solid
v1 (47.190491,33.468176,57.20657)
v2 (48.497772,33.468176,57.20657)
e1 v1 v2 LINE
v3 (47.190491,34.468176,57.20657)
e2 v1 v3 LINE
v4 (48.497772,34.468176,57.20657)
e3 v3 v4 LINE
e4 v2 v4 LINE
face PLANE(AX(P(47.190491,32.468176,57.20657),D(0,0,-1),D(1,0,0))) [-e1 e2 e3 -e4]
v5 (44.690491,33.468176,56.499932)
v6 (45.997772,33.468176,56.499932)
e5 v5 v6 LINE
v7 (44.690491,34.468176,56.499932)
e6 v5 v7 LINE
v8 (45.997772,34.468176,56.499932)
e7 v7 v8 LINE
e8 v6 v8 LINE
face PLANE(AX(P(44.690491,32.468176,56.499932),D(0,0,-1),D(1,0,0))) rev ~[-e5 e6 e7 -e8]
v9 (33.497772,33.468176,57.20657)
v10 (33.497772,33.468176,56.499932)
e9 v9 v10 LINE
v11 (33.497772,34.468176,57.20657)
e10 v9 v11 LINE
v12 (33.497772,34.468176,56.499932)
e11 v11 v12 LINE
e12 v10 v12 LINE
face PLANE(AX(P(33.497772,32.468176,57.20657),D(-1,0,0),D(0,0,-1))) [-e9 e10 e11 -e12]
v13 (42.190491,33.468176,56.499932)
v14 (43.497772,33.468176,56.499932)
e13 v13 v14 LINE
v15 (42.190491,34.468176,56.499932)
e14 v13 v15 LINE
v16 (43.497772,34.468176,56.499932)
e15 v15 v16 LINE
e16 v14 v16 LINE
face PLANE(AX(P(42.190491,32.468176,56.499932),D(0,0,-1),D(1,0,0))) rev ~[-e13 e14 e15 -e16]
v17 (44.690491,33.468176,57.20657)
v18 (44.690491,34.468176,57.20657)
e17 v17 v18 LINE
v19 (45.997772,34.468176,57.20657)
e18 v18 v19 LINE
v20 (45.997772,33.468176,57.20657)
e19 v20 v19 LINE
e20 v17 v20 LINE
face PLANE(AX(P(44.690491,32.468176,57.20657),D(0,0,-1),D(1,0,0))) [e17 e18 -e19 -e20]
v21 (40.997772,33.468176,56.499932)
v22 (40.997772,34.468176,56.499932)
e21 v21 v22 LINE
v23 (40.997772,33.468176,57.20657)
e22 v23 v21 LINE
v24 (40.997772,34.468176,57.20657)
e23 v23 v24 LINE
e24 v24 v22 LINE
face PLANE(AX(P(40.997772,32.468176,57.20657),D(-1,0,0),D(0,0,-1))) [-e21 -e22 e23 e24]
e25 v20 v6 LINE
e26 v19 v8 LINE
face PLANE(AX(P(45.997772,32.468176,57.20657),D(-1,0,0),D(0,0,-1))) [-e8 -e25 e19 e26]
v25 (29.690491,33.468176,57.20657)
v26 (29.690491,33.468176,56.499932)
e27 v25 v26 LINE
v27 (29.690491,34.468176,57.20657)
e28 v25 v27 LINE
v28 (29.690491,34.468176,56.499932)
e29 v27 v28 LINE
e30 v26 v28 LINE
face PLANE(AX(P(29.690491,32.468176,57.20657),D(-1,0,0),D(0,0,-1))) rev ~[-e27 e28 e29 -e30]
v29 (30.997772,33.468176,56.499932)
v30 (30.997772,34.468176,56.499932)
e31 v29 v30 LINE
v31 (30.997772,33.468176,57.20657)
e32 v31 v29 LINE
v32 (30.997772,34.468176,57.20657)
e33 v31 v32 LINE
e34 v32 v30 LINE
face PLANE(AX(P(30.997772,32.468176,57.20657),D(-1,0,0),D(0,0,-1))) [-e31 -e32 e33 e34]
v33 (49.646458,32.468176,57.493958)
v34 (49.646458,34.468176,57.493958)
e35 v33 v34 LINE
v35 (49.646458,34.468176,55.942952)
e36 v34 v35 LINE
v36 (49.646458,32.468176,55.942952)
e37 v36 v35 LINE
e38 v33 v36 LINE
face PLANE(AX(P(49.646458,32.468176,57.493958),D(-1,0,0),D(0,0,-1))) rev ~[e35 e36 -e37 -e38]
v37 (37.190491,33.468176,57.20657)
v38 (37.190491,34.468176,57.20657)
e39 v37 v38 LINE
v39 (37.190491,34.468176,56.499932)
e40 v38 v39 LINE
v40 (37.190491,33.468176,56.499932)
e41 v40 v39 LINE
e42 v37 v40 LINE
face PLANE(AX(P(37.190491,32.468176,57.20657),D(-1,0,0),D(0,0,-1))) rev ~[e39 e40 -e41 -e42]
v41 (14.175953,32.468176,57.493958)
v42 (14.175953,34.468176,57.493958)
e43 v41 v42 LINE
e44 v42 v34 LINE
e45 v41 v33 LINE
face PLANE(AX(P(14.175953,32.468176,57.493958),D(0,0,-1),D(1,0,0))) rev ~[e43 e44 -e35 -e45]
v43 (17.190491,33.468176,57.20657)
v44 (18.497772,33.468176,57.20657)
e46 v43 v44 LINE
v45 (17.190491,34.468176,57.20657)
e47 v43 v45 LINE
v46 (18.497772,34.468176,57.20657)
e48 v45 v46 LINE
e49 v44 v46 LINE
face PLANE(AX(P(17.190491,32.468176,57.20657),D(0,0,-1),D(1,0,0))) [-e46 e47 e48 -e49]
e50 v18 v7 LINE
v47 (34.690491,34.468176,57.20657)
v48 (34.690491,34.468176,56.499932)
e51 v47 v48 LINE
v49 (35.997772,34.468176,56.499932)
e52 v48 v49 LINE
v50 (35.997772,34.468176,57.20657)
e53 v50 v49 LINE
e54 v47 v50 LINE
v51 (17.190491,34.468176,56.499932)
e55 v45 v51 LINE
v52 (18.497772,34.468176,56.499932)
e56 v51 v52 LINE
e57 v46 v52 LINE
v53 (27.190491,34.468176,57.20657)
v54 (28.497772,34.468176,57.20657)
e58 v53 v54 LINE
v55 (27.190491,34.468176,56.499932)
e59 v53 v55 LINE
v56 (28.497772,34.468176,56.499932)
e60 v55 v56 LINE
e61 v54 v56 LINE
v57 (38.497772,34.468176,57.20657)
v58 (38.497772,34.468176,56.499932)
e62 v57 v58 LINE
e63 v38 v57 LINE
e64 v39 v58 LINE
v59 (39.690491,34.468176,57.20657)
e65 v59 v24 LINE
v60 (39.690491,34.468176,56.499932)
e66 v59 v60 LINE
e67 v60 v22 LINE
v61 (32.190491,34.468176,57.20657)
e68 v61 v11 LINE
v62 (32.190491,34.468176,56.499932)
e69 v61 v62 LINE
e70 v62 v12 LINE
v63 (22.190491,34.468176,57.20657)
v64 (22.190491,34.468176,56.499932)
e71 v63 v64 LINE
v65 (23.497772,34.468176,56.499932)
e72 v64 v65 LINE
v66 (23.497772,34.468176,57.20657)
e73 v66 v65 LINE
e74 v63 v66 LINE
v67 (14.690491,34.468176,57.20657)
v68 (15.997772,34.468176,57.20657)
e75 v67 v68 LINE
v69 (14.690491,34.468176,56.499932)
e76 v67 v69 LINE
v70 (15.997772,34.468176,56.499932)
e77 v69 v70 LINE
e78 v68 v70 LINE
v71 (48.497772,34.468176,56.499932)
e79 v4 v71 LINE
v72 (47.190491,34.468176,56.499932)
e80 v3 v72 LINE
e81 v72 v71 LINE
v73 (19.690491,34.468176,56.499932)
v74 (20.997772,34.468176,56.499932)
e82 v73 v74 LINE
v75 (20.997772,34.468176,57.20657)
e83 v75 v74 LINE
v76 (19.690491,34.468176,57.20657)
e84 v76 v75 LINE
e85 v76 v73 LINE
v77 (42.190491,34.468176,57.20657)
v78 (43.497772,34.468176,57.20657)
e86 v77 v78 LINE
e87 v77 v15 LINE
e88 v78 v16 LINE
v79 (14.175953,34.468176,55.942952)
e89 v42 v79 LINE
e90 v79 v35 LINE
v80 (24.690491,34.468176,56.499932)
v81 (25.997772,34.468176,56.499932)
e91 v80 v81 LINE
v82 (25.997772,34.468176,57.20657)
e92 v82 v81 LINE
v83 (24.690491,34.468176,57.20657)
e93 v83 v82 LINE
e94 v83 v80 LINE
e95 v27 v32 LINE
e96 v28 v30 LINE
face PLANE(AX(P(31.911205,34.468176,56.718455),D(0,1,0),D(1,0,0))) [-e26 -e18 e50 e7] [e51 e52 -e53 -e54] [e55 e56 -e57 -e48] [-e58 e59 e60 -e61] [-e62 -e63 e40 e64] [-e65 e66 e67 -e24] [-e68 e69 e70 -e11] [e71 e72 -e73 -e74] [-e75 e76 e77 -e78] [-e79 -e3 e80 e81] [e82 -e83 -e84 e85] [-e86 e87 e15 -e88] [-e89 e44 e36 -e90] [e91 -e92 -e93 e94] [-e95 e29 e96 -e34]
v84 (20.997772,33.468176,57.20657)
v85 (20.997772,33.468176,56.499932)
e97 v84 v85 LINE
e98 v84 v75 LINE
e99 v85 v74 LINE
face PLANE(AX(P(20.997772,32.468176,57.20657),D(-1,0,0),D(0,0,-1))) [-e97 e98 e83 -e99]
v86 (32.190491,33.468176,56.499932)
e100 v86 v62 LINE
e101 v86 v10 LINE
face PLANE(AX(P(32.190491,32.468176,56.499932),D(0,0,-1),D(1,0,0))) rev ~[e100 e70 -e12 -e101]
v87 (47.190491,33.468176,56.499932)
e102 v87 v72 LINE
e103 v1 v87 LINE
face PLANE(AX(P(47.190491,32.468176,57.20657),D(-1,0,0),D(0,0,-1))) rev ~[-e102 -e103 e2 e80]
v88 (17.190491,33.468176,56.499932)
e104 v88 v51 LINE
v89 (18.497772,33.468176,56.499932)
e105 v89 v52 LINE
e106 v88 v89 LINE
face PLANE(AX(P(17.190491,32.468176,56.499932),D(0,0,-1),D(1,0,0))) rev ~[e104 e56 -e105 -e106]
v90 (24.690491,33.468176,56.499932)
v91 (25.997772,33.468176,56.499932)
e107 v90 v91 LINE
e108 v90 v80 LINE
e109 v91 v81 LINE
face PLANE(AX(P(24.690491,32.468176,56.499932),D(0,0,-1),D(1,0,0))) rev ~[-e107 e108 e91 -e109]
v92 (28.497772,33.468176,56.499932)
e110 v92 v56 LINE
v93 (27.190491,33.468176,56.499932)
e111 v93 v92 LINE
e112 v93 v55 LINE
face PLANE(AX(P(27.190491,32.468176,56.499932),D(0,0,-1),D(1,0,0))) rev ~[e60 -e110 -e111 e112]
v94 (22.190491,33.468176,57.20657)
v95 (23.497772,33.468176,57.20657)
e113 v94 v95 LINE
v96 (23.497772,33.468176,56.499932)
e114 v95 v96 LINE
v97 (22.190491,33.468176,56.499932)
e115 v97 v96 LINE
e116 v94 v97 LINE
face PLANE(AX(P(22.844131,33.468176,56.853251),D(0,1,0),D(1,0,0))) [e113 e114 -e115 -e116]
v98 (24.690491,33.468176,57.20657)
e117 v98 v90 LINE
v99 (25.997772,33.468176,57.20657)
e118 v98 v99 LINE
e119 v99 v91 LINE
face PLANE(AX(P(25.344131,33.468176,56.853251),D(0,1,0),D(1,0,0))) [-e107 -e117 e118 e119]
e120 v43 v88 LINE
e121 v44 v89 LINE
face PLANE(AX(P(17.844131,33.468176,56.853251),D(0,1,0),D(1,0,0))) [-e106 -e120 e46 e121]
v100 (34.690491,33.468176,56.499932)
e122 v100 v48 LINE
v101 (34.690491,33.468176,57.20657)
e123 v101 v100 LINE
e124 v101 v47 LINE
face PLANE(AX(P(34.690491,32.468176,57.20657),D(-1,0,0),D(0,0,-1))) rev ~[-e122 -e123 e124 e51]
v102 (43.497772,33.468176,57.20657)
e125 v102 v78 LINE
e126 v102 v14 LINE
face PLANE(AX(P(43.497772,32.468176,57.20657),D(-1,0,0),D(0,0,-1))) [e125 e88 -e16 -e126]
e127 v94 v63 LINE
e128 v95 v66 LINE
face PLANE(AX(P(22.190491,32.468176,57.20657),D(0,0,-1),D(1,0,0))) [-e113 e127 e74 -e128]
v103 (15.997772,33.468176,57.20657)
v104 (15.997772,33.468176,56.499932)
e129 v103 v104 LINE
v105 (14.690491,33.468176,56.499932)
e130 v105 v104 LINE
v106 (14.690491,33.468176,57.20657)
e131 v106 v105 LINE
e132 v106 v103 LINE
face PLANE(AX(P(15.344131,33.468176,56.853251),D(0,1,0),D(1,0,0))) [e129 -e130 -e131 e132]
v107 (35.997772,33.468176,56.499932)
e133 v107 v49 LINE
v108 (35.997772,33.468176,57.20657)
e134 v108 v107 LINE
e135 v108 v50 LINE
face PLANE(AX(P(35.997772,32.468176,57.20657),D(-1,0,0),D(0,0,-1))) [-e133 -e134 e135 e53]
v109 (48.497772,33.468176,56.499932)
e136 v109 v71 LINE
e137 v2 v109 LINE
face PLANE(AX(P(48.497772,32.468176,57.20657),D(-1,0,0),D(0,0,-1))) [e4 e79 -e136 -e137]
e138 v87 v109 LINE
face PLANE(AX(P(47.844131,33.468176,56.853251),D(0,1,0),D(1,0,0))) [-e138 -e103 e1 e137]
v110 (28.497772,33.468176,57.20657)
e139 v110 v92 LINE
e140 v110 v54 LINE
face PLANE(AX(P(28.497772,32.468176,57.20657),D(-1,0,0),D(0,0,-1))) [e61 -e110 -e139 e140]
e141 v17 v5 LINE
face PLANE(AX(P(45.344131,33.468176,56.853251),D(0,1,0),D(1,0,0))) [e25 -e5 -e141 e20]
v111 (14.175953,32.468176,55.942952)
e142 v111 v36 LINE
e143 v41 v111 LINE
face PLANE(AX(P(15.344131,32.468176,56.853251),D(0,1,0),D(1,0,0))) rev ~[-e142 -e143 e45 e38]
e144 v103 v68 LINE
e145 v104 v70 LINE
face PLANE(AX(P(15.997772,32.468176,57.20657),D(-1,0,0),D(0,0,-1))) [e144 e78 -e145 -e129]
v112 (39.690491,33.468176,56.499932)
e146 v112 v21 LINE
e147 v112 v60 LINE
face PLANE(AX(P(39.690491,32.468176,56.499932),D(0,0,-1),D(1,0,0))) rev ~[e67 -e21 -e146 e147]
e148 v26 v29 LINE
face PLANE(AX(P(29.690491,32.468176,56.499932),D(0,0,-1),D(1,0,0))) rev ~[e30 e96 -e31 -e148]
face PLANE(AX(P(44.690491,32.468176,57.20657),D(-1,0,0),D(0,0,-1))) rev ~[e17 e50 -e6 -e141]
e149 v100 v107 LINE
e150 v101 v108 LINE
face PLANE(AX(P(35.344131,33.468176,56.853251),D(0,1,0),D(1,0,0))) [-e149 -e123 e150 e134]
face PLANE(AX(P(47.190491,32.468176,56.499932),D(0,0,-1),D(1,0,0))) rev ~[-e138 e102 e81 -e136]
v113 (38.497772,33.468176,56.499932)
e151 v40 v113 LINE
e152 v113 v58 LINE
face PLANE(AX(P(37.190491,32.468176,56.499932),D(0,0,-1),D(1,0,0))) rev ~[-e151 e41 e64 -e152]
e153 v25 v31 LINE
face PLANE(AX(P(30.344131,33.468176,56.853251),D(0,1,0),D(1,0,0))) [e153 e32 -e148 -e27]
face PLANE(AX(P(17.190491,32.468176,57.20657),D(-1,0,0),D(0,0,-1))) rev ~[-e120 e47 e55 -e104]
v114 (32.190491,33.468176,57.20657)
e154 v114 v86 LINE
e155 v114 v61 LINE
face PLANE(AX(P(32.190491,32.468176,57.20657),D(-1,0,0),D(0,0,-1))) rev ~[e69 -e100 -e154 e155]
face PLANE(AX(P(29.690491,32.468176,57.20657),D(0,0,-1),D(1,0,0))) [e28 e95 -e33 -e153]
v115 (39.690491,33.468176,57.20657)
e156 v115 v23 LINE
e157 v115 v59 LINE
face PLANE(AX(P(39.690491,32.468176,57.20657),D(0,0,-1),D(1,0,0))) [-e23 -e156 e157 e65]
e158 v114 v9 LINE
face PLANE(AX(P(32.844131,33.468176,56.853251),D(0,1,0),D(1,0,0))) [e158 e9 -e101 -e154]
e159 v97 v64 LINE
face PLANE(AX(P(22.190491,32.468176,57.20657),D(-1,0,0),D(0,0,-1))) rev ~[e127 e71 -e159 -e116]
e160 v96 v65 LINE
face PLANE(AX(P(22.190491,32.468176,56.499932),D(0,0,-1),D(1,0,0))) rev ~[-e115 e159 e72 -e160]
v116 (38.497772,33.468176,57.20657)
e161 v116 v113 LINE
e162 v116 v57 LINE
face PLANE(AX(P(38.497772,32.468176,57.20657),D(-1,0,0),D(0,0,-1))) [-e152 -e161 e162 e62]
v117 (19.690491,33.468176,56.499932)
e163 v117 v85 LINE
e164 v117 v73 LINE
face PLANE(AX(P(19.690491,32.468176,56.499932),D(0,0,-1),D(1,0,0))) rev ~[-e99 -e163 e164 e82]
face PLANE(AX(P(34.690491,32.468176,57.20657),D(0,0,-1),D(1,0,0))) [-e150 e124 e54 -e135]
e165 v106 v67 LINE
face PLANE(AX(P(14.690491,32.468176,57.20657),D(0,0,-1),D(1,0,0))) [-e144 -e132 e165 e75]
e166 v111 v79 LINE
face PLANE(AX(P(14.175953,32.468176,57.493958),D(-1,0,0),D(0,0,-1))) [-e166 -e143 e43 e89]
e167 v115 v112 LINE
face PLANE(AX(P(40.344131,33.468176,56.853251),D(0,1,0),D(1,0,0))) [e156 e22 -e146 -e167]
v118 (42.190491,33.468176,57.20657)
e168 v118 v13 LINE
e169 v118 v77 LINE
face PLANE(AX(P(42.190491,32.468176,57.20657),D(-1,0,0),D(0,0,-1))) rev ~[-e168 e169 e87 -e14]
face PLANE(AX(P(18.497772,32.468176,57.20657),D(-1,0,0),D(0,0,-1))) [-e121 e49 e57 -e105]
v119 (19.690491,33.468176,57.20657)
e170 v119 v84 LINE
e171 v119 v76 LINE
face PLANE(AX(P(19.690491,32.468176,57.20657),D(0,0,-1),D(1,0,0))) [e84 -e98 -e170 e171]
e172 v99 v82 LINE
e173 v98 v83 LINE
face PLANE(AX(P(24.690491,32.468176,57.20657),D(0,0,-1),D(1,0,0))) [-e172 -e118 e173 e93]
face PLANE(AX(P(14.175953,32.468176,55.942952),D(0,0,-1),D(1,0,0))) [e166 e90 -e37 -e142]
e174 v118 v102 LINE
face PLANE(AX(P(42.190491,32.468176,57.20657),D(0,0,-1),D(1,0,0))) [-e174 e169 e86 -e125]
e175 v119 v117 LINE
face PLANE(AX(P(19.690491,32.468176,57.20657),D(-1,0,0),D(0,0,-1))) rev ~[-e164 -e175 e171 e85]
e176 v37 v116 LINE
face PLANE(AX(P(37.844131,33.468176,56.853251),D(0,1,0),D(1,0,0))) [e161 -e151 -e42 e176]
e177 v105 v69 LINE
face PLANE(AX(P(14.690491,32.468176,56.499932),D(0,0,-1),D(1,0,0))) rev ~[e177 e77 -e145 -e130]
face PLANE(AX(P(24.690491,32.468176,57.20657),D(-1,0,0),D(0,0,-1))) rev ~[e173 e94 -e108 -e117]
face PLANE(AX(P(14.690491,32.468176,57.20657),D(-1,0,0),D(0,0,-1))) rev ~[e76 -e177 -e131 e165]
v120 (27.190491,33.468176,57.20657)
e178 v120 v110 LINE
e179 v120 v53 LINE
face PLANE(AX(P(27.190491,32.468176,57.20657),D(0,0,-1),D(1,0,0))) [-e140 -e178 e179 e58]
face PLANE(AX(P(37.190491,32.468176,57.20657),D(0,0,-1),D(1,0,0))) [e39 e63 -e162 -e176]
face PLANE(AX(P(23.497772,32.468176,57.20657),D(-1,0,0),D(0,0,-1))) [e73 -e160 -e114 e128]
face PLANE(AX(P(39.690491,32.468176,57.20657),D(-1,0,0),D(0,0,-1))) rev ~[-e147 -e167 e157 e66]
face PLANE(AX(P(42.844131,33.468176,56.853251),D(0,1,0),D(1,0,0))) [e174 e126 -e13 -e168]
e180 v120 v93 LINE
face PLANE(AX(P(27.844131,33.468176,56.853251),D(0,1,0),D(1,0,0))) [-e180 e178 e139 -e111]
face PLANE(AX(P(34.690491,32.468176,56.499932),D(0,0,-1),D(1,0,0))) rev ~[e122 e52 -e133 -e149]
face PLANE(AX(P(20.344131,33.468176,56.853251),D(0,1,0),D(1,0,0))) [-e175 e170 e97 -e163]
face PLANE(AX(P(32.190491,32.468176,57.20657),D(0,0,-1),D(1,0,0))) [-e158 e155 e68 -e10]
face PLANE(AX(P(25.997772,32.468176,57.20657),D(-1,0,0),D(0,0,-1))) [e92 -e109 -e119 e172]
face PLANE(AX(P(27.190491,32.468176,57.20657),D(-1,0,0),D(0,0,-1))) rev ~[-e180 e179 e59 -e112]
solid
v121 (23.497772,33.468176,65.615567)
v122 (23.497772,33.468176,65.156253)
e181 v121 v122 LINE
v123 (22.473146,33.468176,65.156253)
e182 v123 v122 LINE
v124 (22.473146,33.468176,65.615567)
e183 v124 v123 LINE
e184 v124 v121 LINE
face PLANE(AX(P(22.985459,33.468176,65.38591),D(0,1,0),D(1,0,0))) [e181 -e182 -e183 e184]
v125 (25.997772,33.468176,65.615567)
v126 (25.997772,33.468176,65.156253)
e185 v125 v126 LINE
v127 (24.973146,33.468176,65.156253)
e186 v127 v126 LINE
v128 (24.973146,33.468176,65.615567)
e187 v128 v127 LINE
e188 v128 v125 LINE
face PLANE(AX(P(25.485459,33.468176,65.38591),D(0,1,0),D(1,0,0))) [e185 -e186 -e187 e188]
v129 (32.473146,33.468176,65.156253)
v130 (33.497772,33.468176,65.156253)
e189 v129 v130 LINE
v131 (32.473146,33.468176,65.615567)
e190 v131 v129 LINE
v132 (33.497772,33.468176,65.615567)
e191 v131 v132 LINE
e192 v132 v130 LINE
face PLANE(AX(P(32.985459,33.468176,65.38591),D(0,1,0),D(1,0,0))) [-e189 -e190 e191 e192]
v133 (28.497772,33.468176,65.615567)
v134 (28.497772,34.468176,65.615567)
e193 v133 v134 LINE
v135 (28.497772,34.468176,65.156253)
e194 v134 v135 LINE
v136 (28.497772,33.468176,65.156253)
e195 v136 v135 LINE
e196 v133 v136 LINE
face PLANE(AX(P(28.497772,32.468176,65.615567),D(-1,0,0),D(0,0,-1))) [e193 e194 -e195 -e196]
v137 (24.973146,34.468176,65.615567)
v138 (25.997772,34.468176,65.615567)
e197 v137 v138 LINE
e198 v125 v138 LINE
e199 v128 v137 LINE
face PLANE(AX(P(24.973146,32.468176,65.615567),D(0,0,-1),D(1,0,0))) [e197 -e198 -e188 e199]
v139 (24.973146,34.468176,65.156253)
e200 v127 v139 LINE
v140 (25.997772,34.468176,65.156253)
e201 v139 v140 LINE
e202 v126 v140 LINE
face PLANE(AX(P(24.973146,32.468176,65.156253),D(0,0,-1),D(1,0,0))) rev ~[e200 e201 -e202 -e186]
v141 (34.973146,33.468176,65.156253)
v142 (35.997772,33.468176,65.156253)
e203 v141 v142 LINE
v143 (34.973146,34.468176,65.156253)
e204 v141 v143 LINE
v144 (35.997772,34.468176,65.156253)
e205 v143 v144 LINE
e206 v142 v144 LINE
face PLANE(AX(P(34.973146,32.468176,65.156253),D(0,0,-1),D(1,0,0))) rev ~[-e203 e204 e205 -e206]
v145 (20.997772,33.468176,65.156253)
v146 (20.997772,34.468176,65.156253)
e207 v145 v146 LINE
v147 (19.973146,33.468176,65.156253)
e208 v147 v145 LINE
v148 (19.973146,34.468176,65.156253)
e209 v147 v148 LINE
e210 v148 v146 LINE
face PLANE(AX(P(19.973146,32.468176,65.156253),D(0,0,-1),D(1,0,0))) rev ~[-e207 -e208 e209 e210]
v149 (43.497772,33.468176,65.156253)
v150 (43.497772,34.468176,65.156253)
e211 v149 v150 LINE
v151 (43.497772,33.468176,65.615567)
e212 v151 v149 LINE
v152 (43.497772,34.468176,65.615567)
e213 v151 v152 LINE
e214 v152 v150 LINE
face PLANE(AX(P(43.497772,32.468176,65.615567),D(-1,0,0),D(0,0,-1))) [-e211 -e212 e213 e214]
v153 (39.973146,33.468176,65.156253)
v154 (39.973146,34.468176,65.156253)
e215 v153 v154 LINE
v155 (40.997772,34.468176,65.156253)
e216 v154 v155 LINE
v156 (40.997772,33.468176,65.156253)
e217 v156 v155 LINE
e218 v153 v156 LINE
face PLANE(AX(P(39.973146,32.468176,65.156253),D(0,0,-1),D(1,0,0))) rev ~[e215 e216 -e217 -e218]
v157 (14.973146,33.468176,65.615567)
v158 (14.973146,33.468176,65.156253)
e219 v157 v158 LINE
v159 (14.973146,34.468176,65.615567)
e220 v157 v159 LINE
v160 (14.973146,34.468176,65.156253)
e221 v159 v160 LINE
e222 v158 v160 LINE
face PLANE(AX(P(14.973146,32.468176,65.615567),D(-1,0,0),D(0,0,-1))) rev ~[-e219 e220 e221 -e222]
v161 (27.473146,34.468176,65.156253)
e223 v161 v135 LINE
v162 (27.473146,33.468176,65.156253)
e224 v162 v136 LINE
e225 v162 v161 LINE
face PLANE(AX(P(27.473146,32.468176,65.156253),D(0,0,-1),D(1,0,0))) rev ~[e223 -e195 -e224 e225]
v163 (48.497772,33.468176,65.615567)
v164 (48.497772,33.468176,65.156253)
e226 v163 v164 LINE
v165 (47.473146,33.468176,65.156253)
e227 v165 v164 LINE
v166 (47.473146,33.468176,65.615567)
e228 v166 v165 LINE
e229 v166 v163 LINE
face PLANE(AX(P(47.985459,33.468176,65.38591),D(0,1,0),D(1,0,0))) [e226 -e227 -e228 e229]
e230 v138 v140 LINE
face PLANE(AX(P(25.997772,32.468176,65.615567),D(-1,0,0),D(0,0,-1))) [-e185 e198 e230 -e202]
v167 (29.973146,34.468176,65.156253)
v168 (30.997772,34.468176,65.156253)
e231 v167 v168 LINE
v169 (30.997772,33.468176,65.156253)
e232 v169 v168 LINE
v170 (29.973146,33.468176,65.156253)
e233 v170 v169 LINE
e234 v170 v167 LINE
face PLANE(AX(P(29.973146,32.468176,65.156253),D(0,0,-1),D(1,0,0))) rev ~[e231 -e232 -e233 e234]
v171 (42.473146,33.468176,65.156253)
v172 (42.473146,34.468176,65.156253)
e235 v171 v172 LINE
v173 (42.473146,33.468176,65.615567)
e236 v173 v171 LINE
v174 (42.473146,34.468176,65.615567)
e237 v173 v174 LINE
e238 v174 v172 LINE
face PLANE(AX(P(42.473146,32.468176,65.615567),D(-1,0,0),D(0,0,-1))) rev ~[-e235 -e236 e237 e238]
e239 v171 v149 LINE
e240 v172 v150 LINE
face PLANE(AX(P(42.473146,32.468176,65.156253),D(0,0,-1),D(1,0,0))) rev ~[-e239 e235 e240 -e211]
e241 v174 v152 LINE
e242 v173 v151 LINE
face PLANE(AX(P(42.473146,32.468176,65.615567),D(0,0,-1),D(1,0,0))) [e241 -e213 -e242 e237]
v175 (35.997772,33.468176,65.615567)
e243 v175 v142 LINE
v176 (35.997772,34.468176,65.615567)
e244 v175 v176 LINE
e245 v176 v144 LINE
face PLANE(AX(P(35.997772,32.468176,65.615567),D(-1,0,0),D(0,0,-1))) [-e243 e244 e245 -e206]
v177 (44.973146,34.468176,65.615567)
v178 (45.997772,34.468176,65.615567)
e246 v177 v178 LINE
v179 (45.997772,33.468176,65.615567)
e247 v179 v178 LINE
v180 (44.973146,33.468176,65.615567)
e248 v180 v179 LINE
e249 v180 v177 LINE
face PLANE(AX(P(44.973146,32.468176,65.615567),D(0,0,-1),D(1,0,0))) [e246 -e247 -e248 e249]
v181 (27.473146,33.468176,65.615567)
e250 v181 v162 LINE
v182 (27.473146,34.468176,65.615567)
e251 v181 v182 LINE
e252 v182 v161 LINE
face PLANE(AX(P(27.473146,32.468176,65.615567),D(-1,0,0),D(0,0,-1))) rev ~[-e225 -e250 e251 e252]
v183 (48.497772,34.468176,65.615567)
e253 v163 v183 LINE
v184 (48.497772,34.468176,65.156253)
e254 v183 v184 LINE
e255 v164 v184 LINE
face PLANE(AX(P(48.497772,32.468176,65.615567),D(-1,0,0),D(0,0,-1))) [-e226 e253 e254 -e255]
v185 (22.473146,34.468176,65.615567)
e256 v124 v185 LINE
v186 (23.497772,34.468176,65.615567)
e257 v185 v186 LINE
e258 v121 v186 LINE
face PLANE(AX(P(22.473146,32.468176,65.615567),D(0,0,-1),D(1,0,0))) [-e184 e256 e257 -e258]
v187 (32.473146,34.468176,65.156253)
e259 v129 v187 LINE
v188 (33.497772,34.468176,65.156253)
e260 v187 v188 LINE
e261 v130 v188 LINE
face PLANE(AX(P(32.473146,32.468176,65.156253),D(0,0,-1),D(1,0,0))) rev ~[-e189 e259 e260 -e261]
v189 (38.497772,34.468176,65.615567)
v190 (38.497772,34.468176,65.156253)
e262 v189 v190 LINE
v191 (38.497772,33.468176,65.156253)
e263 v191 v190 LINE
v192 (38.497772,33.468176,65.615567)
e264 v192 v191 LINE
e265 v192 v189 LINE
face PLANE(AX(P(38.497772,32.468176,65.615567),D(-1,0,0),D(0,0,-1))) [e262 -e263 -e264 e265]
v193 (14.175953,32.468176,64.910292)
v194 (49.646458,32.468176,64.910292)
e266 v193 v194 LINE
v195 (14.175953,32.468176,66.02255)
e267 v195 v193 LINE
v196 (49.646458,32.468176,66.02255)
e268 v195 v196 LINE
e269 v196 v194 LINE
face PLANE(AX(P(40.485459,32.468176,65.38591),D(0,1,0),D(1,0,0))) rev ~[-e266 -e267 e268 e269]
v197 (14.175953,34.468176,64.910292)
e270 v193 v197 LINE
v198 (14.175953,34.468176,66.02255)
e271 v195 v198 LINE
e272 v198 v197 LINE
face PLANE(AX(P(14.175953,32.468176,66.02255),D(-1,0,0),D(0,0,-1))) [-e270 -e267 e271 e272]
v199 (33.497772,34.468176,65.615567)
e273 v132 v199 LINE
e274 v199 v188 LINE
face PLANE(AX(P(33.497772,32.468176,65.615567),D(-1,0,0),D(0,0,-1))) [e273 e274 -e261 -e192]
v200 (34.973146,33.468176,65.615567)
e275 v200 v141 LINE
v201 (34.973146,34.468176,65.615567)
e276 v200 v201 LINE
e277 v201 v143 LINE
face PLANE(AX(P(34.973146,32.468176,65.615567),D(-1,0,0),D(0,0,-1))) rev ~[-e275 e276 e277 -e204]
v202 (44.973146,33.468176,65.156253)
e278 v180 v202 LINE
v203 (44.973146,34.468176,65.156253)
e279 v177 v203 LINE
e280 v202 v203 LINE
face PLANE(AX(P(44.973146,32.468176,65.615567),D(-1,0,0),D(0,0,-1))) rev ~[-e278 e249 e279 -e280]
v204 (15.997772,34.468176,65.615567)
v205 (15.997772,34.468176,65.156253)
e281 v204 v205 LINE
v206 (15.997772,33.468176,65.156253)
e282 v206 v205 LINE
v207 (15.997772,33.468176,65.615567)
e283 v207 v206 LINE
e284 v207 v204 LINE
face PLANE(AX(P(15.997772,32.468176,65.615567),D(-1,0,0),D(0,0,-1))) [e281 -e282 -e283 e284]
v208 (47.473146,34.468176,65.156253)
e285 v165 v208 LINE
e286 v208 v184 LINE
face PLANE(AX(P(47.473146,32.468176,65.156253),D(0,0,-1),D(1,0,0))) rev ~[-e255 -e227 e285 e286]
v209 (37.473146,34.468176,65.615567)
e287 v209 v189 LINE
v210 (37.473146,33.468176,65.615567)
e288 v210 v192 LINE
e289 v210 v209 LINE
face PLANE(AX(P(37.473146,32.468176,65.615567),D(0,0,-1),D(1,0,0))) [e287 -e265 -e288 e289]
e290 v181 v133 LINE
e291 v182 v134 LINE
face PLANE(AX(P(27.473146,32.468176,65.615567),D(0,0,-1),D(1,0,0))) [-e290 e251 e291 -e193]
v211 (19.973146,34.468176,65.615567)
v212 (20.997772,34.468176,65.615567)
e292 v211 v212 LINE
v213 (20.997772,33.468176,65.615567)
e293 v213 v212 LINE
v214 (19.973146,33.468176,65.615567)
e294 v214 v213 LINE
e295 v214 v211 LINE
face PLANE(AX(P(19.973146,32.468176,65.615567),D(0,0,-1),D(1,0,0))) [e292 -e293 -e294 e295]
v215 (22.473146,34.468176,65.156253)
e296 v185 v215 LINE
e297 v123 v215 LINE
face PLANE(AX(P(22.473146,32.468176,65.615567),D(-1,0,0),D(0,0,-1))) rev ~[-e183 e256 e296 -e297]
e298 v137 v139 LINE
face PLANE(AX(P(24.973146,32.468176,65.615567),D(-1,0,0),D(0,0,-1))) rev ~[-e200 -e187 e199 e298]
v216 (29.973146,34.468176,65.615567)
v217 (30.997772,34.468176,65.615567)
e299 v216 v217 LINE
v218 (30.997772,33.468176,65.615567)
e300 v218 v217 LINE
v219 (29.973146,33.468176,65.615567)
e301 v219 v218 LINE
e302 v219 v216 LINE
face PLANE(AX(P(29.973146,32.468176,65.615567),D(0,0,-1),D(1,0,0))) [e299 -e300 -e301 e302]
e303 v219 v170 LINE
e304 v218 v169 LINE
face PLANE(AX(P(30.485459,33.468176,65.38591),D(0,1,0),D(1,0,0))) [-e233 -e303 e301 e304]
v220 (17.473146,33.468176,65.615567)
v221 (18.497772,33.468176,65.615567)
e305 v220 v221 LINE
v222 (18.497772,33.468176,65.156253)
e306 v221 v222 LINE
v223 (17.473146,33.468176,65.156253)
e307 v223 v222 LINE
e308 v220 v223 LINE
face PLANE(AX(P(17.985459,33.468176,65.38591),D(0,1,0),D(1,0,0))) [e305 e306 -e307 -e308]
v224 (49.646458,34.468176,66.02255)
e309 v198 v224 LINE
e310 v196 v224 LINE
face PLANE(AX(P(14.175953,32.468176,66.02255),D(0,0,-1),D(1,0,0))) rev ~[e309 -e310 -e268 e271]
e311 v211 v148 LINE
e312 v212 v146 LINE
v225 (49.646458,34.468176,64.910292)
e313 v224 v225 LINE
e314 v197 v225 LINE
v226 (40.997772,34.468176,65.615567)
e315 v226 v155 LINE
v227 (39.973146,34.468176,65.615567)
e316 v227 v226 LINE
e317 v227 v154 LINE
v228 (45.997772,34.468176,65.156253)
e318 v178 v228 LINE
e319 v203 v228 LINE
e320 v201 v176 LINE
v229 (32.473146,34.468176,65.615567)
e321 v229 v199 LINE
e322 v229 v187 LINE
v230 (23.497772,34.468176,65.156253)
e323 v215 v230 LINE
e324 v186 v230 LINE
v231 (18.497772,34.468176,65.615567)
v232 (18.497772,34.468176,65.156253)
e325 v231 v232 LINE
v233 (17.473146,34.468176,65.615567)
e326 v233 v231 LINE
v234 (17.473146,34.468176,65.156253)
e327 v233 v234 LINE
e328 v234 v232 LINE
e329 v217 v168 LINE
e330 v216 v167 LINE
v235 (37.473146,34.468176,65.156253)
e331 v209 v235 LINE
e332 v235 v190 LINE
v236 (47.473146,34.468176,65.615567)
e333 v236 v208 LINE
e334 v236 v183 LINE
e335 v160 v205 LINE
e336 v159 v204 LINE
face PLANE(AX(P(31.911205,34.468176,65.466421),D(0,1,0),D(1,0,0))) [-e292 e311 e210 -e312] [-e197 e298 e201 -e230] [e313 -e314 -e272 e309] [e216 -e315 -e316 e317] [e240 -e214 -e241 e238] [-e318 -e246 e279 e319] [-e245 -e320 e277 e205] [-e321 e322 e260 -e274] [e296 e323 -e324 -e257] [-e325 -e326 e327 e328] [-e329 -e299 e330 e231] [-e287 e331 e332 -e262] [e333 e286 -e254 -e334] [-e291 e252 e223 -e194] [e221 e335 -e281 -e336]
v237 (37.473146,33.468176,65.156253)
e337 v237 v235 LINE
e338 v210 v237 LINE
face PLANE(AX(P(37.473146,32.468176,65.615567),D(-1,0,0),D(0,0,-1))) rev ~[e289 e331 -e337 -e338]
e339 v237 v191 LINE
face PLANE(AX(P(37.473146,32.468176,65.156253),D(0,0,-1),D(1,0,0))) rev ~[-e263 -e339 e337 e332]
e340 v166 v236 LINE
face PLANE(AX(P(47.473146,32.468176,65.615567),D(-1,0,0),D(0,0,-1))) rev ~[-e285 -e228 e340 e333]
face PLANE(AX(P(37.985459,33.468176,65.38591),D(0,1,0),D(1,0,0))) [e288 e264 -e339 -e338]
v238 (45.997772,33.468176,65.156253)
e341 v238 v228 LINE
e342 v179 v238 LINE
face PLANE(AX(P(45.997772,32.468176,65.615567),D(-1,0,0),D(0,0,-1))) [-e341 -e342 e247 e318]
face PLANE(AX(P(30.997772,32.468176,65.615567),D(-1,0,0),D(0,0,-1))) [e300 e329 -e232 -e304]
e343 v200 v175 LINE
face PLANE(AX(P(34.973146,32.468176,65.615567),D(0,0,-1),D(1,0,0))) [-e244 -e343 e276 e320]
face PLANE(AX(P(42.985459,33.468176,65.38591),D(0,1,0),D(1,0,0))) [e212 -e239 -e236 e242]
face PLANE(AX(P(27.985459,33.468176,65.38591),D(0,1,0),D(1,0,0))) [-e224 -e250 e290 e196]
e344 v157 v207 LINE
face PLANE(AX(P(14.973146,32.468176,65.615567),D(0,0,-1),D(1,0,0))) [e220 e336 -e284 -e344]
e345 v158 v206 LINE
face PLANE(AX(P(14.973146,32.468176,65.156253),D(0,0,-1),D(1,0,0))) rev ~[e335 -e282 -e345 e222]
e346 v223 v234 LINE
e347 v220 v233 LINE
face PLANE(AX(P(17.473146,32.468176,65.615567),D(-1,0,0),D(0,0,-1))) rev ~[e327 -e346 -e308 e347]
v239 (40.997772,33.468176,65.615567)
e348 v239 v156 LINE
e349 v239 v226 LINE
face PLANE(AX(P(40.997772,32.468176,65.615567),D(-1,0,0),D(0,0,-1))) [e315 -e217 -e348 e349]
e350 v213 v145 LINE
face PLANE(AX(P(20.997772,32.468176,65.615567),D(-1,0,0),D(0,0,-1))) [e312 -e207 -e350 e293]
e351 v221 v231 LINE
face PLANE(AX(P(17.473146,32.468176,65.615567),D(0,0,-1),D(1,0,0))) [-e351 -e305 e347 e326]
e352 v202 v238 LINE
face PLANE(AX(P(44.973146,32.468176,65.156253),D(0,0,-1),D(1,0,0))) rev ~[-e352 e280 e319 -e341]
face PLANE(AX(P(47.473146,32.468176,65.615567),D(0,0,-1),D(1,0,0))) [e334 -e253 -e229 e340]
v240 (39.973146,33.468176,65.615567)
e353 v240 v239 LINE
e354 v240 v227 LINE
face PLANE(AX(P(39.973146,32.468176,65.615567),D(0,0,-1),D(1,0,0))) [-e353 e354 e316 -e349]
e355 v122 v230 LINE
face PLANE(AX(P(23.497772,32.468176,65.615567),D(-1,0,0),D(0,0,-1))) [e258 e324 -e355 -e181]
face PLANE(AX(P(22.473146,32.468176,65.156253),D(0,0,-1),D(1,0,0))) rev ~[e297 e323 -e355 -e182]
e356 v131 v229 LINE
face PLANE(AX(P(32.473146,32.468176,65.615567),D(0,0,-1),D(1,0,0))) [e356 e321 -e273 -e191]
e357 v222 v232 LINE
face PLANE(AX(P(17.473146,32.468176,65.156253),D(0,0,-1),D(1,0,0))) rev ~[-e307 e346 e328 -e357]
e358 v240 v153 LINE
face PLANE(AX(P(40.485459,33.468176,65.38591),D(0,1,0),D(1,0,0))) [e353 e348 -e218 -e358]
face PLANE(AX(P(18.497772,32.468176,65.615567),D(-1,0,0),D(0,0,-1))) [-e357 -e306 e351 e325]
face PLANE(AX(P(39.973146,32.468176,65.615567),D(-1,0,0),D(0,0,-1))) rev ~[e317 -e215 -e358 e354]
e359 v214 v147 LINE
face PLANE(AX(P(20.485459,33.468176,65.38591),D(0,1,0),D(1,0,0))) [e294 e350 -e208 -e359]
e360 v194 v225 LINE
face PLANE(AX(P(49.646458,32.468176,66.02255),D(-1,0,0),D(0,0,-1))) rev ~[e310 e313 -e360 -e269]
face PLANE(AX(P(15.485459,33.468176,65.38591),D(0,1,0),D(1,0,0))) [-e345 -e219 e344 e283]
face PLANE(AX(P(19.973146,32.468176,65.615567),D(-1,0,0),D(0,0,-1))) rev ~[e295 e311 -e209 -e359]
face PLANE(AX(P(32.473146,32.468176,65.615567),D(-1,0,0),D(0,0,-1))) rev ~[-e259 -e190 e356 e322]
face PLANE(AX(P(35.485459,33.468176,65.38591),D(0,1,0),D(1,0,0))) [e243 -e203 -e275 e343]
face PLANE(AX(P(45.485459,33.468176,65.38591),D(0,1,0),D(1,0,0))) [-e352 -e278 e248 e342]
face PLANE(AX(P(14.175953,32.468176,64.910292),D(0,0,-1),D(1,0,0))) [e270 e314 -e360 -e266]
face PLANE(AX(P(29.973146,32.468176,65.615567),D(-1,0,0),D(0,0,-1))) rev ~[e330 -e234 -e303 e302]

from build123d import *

# Parameters (mm, degrees)
CROQUIS1_W                = 35.470504615
CROQUIS1_H                = 1.551006647
CROQUIS1_W_2              = 1.307281122
CROQUIS1_H_2              = 0.706638445
SALIENTE_EXTRUIR1_DEPTH   = 2
CROQUIS1_H_3              = 1.112257887
CROQUIS1_W_3              = 1.024625744
CROQUIS1_H_4              = 0.459314989
SALIENTE_EXTRUIR1_2_DEPTH = 2
CROQUIS1_3_W              = 1.307281122
CROQUIS1_3_H              = 0.706638445
CROQUIS1_3_W_2            = 1.024625744
CROQUIS1_3_H_2            = 0.459314989
SALIENTE_EXTRUIR2_DEPTH   = 1


with BuildPart() as part:
    # Croquis1 → Saliente-Extruir1 (new body)
    with BuildSketch(Plane(origin=(0, 32.468175746, 0), x_dir=(1, 0, 0), z_dir=(0, 1, 0))):
        with Locations((31.911205321, -56.71845489)):
            Rectangle(CROQUIS1_W, CROQUIS1_H)
        with Locations((17.844131363, -56.853250782)):
            Rectangle(CROQUIS1_W_2, CROQUIS1_H_2, mode=Mode.SUBTRACT)
        with Locations((15.344131363, -56.853250782)):
            Rectangle(CROQUIS1_W_2, CROQUIS1_H_2, mode=Mode.SUBTRACT)
        with Locations((20.344131363, -56.853250782)):
            Rectangle(CROQUIS1_W_2, CROQUIS1_H_2, mode=Mode.SUBTRACT)
        with Locations((22.844131363, -56.853250782)):
            Rectangle(CROQUIS1_W_2, CROQUIS1_H_2, mode=Mode.SUBTRACT)
        with Locations((25.344131363, -56.853250782)):
            Rectangle(CROQUIS1_W_2, CROQUIS1_H_2, mode=Mode.SUBTRACT)
        with Locations((27.844131363, -56.853250782)):
            Rectangle(CROQUIS1_W_2, CROQUIS1_H_2, mode=Mode.SUBTRACT)
        with Locations((30.344131363, -56.853250782)):
            Rectangle(CROQUIS1_W_2, CROQUIS1_H_2, mode=Mode.SUBTRACT)
        with Locations((32.844131363, -56.853250782)):
            Rectangle(CROQUIS1_W_2, CROQUIS1_H_2, mode=Mode.SUBTRACT)
        with Locations((35.344131363, -56.853250782)):
            Rectangle(CROQUIS1_W_2, CROQUIS1_H_2, mode=Mode.SUBTRACT)
        with Locations((37.844131363, -56.853250782)):
            Rectangle(CROQUIS1_W_2, CROQUIS1_H_2, mode=Mode.SUBTRACT)
        with Locations((40.344131363, -56.853250782)):
            Rectangle(CROQUIS1_W_2, CROQUIS1_H_2, mode=Mode.SUBTRACT)
        with Locations((42.844131363, -56.853250782)):
            Rectangle(CROQUIS1_W_2, CROQUIS1_H_2, mode=Mode.SUBTRACT)
        with Locations((45.344131363, -56.853250782)):
            Rectangle(CROQUIS1_W_2, CROQUIS1_H_2, mode=Mode.SUBTRACT)
        with Locations((47.844131363, -56.853250782)):
            Rectangle(CROQUIS1_W_2, CROQUIS1_H_2, mode=Mode.SUBTRACT)
    extrude(amount=SALIENTE_EXTRUIR1_DEPTH)



with BuildPart() as body_2:
    # Croquis1 → Saliente-Extruir1 2 (new body)
    with BuildSketch(Plane(origin=(0, 32.468175746, 0), x_dir=(1, 0, 0), z_dir=(0, 1, 0))):
        with Locations((31.911205321, -65.466420603)):
            Rectangle(CROQUIS1_W, CROQUIS1_H_3)
        with Locations((15.485459052, -65.385910001)):
            Rectangle(CROQUIS1_W_3, CROQUIS1_H_4, mode=Mode.SUBTRACT)
        with Locations((17.985459052, -65.385910001)):
            Rectangle(CROQUIS1_W_3, CROQUIS1_H_4, mode=Mode.SUBTRACT)
        with Locations((20.485459052, -65.385910001)):
            Rectangle(CROQUIS1_W_3, CROQUIS1_H_4, mode=Mode.SUBTRACT)
        with Locations((22.985459052, -65.385910001)):
            Rectangle(CROQUIS1_W_3, CROQUIS1_H_4, mode=Mode.SUBTRACT)
        with Locations((25.485459052, -65.385910001)):
            Rectangle(CROQUIS1_W_3, CROQUIS1_H_4, mode=Mode.SUBTRACT)
        with Locations((27.985459052, -65.385910001)):
            Rectangle(CROQUIS1_W_3, CROQUIS1_H_4, mode=Mode.SUBTRACT)
        with Locations((30.485459052, -65.385910001)):
            Rectangle(CROQUIS1_W_3, CROQUIS1_H_4, mode=Mode.SUBTRACT)
        with Locations((32.985459052, -65.385910001)):
            Rectangle(CROQUIS1_W_3, CROQUIS1_H_4, mode=Mode.SUBTRACT)
        with Locations((35.485459052, -65.385910001)):
            Rectangle(CROQUIS1_W_3, CROQUIS1_H_4, mode=Mode.SUBTRACT)
        with Locations((37.985459052, -65.385910001)):
            Rectangle(CROQUIS1_W_3, CROQUIS1_H_4, mode=Mode.SUBTRACT)
        with Locations((40.485459052, -65.385910001)):
            Rectangle(CROQUIS1_W_3, CROQUIS1_H_4, mode=Mode.SUBTRACT)
        with Locations((42.985459052, -65.385910001)):
            Rectangle(CROQUIS1_W_3, CROQUIS1_H_4, mode=Mode.SUBTRACT)
        with Locations((45.485459052, -65.385910001)):
            Rectangle(CROQUIS1_W_3, CROQUIS1_H_4, mode=Mode.SUBTRACT)
        with Locations((47.985459052, -65.385910001)):
            Rectangle(CROQUIS1_W_3, CROQUIS1_H_4, mode=Mode.SUBTRACT)
    extrude(amount=SALIENTE_EXTRUIR1_2_DEPTH)


with BuildPart() as part_1:
    add(part.part)

    add(body_2.part)  # Saliente-Extruir2 merges body 2
    # Croquis1<3> → Saliente-Extruir2 (add)
    with BuildSketch(Plane(origin=(0, 32.468175746, 0), x_dir=(1, 0, 0), z_dir=(0, 1, 0))):
        with Locations((15.344131363, -56.853250782)):
            Rectangle(CROQUIS1_3_W, CROQUIS1_3_H)
        with Locations((17.844131363, -56.853250782)):
            Rectangle(CROQUIS1_3_W, CROQUIS1_3_H)
        with Locations((20.344131363, -56.853250782)):
            Rectangle(CROQUIS1_3_W, CROQUIS1_3_H)
        with Locations((22.844131363, -56.853250782)):
            Rectangle(CROQUIS1_3_W, CROQUIS1_3_H)
        with Locations((25.344131363, -56.853250782)):
            Rectangle(CROQUIS1_3_W, CROQUIS1_3_H)
        with Locations((27.844131363, -56.853250782)):
            Rectangle(CROQUIS1_3_W, CROQUIS1_3_H)
        with Locations((32.844131363, -56.853250782)):
            Rectangle(CROQUIS1_3_W, CROQUIS1_3_H)
        with Locations((35.344131363, -56.853250782)):
            Rectangle(CROQUIS1_3_W, CROQUIS1_3_H)
        with Locations((37.844131363, -56.853250782)):
            Rectangle(CROQUIS1_3_W, CROQUIS1_3_H)
        with Locations((40.344131363, -56.853250782)):
            Rectangle(CROQUIS1_3_W, CROQUIS1_3_H)
        with Locations((42.844131363, -56.853250782)):
            Rectangle(CROQUIS1_3_W, CROQUIS1_3_H)
        with Locations((47.844131363, -56.853250782)):
            Rectangle(CROQUIS1_3_W, CROQUIS1_3_H)
        with Locations((40.485459052, -65.385910001)):
            Rectangle(CROQUIS1_3_W_2, CROQUIS1_3_H_2)
        with Locations((37.985459052, -65.385910001)):
            Rectangle(CROQUIS1_3_W_2, CROQUIS1_3_H_2)
        with Locations((32.985459052, -65.385910001)):
            Rectangle(CROQUIS1_3_W_2, CROQUIS1_3_H_2)
        with Locations((30.485459052, -65.385910001)):
            Rectangle(CROQUIS1_3_W_2, CROQUIS1_3_H_2)
        with Locations((27.985459052, -65.385910001)):
            Rectangle(CROQUIS1_3_W_2, CROQUIS1_3_H_2)
        with Locations((25.485459052, -65.385910001)):
            Rectangle(CROQUIS1_3_W_2, CROQUIS1_3_H_2)
        with Locations((22.985459052, -65.385910001)):
            Rectangle(CROQUIS1_3_W_2, CROQUIS1_3_H_2)
        with Locations((20.485459052, -65.385910001)):
            Rectangle(CROQUIS1_3_W_2, CROQUIS1_3_H_2)
        with Locations((17.985459052, -65.385910001)):
            Rectangle(CROQUIS1_3_W_2, CROQUIS1_3_H_2)
        with Locations((15.485459052, -65.385910001)):
            Rectangle(CROQUIS1_3_W_2, CROQUIS1_3_H_2)
        with Locations((30.344131363, -56.853250782)):
            Rectangle(CROQUIS1_3_W, CROQUIS1_3_H)
        with Locations((45.344131363, -56.853250782)):
            Rectangle(CROQUIS1_3_W, CROQUIS1_3_H)
        with Locations((47.985459052, -65.385910001)):
            Rectangle(CROQUIS1_3_W_2, CROQUIS1_3_H_2)
        with Locations((45.485459052, -65.385910001)):
            Rectangle(CROQUIS1_3_W_2, CROQUIS1_3_H_2)
        with Locations((42.985459052, -65.385910001)):
            Rectangle(CROQUIS1_3_W_2, CROQUIS1_3_H_2)
        with Locations((35.485459052, -65.385910001)):
            Rectangle(CROQUIS1_3_W_2, CROQUIS1_3_H_2)
    extrude(amount=SALIENTE_EXTRUIR2_DEPTH)


solid = part_1.part
